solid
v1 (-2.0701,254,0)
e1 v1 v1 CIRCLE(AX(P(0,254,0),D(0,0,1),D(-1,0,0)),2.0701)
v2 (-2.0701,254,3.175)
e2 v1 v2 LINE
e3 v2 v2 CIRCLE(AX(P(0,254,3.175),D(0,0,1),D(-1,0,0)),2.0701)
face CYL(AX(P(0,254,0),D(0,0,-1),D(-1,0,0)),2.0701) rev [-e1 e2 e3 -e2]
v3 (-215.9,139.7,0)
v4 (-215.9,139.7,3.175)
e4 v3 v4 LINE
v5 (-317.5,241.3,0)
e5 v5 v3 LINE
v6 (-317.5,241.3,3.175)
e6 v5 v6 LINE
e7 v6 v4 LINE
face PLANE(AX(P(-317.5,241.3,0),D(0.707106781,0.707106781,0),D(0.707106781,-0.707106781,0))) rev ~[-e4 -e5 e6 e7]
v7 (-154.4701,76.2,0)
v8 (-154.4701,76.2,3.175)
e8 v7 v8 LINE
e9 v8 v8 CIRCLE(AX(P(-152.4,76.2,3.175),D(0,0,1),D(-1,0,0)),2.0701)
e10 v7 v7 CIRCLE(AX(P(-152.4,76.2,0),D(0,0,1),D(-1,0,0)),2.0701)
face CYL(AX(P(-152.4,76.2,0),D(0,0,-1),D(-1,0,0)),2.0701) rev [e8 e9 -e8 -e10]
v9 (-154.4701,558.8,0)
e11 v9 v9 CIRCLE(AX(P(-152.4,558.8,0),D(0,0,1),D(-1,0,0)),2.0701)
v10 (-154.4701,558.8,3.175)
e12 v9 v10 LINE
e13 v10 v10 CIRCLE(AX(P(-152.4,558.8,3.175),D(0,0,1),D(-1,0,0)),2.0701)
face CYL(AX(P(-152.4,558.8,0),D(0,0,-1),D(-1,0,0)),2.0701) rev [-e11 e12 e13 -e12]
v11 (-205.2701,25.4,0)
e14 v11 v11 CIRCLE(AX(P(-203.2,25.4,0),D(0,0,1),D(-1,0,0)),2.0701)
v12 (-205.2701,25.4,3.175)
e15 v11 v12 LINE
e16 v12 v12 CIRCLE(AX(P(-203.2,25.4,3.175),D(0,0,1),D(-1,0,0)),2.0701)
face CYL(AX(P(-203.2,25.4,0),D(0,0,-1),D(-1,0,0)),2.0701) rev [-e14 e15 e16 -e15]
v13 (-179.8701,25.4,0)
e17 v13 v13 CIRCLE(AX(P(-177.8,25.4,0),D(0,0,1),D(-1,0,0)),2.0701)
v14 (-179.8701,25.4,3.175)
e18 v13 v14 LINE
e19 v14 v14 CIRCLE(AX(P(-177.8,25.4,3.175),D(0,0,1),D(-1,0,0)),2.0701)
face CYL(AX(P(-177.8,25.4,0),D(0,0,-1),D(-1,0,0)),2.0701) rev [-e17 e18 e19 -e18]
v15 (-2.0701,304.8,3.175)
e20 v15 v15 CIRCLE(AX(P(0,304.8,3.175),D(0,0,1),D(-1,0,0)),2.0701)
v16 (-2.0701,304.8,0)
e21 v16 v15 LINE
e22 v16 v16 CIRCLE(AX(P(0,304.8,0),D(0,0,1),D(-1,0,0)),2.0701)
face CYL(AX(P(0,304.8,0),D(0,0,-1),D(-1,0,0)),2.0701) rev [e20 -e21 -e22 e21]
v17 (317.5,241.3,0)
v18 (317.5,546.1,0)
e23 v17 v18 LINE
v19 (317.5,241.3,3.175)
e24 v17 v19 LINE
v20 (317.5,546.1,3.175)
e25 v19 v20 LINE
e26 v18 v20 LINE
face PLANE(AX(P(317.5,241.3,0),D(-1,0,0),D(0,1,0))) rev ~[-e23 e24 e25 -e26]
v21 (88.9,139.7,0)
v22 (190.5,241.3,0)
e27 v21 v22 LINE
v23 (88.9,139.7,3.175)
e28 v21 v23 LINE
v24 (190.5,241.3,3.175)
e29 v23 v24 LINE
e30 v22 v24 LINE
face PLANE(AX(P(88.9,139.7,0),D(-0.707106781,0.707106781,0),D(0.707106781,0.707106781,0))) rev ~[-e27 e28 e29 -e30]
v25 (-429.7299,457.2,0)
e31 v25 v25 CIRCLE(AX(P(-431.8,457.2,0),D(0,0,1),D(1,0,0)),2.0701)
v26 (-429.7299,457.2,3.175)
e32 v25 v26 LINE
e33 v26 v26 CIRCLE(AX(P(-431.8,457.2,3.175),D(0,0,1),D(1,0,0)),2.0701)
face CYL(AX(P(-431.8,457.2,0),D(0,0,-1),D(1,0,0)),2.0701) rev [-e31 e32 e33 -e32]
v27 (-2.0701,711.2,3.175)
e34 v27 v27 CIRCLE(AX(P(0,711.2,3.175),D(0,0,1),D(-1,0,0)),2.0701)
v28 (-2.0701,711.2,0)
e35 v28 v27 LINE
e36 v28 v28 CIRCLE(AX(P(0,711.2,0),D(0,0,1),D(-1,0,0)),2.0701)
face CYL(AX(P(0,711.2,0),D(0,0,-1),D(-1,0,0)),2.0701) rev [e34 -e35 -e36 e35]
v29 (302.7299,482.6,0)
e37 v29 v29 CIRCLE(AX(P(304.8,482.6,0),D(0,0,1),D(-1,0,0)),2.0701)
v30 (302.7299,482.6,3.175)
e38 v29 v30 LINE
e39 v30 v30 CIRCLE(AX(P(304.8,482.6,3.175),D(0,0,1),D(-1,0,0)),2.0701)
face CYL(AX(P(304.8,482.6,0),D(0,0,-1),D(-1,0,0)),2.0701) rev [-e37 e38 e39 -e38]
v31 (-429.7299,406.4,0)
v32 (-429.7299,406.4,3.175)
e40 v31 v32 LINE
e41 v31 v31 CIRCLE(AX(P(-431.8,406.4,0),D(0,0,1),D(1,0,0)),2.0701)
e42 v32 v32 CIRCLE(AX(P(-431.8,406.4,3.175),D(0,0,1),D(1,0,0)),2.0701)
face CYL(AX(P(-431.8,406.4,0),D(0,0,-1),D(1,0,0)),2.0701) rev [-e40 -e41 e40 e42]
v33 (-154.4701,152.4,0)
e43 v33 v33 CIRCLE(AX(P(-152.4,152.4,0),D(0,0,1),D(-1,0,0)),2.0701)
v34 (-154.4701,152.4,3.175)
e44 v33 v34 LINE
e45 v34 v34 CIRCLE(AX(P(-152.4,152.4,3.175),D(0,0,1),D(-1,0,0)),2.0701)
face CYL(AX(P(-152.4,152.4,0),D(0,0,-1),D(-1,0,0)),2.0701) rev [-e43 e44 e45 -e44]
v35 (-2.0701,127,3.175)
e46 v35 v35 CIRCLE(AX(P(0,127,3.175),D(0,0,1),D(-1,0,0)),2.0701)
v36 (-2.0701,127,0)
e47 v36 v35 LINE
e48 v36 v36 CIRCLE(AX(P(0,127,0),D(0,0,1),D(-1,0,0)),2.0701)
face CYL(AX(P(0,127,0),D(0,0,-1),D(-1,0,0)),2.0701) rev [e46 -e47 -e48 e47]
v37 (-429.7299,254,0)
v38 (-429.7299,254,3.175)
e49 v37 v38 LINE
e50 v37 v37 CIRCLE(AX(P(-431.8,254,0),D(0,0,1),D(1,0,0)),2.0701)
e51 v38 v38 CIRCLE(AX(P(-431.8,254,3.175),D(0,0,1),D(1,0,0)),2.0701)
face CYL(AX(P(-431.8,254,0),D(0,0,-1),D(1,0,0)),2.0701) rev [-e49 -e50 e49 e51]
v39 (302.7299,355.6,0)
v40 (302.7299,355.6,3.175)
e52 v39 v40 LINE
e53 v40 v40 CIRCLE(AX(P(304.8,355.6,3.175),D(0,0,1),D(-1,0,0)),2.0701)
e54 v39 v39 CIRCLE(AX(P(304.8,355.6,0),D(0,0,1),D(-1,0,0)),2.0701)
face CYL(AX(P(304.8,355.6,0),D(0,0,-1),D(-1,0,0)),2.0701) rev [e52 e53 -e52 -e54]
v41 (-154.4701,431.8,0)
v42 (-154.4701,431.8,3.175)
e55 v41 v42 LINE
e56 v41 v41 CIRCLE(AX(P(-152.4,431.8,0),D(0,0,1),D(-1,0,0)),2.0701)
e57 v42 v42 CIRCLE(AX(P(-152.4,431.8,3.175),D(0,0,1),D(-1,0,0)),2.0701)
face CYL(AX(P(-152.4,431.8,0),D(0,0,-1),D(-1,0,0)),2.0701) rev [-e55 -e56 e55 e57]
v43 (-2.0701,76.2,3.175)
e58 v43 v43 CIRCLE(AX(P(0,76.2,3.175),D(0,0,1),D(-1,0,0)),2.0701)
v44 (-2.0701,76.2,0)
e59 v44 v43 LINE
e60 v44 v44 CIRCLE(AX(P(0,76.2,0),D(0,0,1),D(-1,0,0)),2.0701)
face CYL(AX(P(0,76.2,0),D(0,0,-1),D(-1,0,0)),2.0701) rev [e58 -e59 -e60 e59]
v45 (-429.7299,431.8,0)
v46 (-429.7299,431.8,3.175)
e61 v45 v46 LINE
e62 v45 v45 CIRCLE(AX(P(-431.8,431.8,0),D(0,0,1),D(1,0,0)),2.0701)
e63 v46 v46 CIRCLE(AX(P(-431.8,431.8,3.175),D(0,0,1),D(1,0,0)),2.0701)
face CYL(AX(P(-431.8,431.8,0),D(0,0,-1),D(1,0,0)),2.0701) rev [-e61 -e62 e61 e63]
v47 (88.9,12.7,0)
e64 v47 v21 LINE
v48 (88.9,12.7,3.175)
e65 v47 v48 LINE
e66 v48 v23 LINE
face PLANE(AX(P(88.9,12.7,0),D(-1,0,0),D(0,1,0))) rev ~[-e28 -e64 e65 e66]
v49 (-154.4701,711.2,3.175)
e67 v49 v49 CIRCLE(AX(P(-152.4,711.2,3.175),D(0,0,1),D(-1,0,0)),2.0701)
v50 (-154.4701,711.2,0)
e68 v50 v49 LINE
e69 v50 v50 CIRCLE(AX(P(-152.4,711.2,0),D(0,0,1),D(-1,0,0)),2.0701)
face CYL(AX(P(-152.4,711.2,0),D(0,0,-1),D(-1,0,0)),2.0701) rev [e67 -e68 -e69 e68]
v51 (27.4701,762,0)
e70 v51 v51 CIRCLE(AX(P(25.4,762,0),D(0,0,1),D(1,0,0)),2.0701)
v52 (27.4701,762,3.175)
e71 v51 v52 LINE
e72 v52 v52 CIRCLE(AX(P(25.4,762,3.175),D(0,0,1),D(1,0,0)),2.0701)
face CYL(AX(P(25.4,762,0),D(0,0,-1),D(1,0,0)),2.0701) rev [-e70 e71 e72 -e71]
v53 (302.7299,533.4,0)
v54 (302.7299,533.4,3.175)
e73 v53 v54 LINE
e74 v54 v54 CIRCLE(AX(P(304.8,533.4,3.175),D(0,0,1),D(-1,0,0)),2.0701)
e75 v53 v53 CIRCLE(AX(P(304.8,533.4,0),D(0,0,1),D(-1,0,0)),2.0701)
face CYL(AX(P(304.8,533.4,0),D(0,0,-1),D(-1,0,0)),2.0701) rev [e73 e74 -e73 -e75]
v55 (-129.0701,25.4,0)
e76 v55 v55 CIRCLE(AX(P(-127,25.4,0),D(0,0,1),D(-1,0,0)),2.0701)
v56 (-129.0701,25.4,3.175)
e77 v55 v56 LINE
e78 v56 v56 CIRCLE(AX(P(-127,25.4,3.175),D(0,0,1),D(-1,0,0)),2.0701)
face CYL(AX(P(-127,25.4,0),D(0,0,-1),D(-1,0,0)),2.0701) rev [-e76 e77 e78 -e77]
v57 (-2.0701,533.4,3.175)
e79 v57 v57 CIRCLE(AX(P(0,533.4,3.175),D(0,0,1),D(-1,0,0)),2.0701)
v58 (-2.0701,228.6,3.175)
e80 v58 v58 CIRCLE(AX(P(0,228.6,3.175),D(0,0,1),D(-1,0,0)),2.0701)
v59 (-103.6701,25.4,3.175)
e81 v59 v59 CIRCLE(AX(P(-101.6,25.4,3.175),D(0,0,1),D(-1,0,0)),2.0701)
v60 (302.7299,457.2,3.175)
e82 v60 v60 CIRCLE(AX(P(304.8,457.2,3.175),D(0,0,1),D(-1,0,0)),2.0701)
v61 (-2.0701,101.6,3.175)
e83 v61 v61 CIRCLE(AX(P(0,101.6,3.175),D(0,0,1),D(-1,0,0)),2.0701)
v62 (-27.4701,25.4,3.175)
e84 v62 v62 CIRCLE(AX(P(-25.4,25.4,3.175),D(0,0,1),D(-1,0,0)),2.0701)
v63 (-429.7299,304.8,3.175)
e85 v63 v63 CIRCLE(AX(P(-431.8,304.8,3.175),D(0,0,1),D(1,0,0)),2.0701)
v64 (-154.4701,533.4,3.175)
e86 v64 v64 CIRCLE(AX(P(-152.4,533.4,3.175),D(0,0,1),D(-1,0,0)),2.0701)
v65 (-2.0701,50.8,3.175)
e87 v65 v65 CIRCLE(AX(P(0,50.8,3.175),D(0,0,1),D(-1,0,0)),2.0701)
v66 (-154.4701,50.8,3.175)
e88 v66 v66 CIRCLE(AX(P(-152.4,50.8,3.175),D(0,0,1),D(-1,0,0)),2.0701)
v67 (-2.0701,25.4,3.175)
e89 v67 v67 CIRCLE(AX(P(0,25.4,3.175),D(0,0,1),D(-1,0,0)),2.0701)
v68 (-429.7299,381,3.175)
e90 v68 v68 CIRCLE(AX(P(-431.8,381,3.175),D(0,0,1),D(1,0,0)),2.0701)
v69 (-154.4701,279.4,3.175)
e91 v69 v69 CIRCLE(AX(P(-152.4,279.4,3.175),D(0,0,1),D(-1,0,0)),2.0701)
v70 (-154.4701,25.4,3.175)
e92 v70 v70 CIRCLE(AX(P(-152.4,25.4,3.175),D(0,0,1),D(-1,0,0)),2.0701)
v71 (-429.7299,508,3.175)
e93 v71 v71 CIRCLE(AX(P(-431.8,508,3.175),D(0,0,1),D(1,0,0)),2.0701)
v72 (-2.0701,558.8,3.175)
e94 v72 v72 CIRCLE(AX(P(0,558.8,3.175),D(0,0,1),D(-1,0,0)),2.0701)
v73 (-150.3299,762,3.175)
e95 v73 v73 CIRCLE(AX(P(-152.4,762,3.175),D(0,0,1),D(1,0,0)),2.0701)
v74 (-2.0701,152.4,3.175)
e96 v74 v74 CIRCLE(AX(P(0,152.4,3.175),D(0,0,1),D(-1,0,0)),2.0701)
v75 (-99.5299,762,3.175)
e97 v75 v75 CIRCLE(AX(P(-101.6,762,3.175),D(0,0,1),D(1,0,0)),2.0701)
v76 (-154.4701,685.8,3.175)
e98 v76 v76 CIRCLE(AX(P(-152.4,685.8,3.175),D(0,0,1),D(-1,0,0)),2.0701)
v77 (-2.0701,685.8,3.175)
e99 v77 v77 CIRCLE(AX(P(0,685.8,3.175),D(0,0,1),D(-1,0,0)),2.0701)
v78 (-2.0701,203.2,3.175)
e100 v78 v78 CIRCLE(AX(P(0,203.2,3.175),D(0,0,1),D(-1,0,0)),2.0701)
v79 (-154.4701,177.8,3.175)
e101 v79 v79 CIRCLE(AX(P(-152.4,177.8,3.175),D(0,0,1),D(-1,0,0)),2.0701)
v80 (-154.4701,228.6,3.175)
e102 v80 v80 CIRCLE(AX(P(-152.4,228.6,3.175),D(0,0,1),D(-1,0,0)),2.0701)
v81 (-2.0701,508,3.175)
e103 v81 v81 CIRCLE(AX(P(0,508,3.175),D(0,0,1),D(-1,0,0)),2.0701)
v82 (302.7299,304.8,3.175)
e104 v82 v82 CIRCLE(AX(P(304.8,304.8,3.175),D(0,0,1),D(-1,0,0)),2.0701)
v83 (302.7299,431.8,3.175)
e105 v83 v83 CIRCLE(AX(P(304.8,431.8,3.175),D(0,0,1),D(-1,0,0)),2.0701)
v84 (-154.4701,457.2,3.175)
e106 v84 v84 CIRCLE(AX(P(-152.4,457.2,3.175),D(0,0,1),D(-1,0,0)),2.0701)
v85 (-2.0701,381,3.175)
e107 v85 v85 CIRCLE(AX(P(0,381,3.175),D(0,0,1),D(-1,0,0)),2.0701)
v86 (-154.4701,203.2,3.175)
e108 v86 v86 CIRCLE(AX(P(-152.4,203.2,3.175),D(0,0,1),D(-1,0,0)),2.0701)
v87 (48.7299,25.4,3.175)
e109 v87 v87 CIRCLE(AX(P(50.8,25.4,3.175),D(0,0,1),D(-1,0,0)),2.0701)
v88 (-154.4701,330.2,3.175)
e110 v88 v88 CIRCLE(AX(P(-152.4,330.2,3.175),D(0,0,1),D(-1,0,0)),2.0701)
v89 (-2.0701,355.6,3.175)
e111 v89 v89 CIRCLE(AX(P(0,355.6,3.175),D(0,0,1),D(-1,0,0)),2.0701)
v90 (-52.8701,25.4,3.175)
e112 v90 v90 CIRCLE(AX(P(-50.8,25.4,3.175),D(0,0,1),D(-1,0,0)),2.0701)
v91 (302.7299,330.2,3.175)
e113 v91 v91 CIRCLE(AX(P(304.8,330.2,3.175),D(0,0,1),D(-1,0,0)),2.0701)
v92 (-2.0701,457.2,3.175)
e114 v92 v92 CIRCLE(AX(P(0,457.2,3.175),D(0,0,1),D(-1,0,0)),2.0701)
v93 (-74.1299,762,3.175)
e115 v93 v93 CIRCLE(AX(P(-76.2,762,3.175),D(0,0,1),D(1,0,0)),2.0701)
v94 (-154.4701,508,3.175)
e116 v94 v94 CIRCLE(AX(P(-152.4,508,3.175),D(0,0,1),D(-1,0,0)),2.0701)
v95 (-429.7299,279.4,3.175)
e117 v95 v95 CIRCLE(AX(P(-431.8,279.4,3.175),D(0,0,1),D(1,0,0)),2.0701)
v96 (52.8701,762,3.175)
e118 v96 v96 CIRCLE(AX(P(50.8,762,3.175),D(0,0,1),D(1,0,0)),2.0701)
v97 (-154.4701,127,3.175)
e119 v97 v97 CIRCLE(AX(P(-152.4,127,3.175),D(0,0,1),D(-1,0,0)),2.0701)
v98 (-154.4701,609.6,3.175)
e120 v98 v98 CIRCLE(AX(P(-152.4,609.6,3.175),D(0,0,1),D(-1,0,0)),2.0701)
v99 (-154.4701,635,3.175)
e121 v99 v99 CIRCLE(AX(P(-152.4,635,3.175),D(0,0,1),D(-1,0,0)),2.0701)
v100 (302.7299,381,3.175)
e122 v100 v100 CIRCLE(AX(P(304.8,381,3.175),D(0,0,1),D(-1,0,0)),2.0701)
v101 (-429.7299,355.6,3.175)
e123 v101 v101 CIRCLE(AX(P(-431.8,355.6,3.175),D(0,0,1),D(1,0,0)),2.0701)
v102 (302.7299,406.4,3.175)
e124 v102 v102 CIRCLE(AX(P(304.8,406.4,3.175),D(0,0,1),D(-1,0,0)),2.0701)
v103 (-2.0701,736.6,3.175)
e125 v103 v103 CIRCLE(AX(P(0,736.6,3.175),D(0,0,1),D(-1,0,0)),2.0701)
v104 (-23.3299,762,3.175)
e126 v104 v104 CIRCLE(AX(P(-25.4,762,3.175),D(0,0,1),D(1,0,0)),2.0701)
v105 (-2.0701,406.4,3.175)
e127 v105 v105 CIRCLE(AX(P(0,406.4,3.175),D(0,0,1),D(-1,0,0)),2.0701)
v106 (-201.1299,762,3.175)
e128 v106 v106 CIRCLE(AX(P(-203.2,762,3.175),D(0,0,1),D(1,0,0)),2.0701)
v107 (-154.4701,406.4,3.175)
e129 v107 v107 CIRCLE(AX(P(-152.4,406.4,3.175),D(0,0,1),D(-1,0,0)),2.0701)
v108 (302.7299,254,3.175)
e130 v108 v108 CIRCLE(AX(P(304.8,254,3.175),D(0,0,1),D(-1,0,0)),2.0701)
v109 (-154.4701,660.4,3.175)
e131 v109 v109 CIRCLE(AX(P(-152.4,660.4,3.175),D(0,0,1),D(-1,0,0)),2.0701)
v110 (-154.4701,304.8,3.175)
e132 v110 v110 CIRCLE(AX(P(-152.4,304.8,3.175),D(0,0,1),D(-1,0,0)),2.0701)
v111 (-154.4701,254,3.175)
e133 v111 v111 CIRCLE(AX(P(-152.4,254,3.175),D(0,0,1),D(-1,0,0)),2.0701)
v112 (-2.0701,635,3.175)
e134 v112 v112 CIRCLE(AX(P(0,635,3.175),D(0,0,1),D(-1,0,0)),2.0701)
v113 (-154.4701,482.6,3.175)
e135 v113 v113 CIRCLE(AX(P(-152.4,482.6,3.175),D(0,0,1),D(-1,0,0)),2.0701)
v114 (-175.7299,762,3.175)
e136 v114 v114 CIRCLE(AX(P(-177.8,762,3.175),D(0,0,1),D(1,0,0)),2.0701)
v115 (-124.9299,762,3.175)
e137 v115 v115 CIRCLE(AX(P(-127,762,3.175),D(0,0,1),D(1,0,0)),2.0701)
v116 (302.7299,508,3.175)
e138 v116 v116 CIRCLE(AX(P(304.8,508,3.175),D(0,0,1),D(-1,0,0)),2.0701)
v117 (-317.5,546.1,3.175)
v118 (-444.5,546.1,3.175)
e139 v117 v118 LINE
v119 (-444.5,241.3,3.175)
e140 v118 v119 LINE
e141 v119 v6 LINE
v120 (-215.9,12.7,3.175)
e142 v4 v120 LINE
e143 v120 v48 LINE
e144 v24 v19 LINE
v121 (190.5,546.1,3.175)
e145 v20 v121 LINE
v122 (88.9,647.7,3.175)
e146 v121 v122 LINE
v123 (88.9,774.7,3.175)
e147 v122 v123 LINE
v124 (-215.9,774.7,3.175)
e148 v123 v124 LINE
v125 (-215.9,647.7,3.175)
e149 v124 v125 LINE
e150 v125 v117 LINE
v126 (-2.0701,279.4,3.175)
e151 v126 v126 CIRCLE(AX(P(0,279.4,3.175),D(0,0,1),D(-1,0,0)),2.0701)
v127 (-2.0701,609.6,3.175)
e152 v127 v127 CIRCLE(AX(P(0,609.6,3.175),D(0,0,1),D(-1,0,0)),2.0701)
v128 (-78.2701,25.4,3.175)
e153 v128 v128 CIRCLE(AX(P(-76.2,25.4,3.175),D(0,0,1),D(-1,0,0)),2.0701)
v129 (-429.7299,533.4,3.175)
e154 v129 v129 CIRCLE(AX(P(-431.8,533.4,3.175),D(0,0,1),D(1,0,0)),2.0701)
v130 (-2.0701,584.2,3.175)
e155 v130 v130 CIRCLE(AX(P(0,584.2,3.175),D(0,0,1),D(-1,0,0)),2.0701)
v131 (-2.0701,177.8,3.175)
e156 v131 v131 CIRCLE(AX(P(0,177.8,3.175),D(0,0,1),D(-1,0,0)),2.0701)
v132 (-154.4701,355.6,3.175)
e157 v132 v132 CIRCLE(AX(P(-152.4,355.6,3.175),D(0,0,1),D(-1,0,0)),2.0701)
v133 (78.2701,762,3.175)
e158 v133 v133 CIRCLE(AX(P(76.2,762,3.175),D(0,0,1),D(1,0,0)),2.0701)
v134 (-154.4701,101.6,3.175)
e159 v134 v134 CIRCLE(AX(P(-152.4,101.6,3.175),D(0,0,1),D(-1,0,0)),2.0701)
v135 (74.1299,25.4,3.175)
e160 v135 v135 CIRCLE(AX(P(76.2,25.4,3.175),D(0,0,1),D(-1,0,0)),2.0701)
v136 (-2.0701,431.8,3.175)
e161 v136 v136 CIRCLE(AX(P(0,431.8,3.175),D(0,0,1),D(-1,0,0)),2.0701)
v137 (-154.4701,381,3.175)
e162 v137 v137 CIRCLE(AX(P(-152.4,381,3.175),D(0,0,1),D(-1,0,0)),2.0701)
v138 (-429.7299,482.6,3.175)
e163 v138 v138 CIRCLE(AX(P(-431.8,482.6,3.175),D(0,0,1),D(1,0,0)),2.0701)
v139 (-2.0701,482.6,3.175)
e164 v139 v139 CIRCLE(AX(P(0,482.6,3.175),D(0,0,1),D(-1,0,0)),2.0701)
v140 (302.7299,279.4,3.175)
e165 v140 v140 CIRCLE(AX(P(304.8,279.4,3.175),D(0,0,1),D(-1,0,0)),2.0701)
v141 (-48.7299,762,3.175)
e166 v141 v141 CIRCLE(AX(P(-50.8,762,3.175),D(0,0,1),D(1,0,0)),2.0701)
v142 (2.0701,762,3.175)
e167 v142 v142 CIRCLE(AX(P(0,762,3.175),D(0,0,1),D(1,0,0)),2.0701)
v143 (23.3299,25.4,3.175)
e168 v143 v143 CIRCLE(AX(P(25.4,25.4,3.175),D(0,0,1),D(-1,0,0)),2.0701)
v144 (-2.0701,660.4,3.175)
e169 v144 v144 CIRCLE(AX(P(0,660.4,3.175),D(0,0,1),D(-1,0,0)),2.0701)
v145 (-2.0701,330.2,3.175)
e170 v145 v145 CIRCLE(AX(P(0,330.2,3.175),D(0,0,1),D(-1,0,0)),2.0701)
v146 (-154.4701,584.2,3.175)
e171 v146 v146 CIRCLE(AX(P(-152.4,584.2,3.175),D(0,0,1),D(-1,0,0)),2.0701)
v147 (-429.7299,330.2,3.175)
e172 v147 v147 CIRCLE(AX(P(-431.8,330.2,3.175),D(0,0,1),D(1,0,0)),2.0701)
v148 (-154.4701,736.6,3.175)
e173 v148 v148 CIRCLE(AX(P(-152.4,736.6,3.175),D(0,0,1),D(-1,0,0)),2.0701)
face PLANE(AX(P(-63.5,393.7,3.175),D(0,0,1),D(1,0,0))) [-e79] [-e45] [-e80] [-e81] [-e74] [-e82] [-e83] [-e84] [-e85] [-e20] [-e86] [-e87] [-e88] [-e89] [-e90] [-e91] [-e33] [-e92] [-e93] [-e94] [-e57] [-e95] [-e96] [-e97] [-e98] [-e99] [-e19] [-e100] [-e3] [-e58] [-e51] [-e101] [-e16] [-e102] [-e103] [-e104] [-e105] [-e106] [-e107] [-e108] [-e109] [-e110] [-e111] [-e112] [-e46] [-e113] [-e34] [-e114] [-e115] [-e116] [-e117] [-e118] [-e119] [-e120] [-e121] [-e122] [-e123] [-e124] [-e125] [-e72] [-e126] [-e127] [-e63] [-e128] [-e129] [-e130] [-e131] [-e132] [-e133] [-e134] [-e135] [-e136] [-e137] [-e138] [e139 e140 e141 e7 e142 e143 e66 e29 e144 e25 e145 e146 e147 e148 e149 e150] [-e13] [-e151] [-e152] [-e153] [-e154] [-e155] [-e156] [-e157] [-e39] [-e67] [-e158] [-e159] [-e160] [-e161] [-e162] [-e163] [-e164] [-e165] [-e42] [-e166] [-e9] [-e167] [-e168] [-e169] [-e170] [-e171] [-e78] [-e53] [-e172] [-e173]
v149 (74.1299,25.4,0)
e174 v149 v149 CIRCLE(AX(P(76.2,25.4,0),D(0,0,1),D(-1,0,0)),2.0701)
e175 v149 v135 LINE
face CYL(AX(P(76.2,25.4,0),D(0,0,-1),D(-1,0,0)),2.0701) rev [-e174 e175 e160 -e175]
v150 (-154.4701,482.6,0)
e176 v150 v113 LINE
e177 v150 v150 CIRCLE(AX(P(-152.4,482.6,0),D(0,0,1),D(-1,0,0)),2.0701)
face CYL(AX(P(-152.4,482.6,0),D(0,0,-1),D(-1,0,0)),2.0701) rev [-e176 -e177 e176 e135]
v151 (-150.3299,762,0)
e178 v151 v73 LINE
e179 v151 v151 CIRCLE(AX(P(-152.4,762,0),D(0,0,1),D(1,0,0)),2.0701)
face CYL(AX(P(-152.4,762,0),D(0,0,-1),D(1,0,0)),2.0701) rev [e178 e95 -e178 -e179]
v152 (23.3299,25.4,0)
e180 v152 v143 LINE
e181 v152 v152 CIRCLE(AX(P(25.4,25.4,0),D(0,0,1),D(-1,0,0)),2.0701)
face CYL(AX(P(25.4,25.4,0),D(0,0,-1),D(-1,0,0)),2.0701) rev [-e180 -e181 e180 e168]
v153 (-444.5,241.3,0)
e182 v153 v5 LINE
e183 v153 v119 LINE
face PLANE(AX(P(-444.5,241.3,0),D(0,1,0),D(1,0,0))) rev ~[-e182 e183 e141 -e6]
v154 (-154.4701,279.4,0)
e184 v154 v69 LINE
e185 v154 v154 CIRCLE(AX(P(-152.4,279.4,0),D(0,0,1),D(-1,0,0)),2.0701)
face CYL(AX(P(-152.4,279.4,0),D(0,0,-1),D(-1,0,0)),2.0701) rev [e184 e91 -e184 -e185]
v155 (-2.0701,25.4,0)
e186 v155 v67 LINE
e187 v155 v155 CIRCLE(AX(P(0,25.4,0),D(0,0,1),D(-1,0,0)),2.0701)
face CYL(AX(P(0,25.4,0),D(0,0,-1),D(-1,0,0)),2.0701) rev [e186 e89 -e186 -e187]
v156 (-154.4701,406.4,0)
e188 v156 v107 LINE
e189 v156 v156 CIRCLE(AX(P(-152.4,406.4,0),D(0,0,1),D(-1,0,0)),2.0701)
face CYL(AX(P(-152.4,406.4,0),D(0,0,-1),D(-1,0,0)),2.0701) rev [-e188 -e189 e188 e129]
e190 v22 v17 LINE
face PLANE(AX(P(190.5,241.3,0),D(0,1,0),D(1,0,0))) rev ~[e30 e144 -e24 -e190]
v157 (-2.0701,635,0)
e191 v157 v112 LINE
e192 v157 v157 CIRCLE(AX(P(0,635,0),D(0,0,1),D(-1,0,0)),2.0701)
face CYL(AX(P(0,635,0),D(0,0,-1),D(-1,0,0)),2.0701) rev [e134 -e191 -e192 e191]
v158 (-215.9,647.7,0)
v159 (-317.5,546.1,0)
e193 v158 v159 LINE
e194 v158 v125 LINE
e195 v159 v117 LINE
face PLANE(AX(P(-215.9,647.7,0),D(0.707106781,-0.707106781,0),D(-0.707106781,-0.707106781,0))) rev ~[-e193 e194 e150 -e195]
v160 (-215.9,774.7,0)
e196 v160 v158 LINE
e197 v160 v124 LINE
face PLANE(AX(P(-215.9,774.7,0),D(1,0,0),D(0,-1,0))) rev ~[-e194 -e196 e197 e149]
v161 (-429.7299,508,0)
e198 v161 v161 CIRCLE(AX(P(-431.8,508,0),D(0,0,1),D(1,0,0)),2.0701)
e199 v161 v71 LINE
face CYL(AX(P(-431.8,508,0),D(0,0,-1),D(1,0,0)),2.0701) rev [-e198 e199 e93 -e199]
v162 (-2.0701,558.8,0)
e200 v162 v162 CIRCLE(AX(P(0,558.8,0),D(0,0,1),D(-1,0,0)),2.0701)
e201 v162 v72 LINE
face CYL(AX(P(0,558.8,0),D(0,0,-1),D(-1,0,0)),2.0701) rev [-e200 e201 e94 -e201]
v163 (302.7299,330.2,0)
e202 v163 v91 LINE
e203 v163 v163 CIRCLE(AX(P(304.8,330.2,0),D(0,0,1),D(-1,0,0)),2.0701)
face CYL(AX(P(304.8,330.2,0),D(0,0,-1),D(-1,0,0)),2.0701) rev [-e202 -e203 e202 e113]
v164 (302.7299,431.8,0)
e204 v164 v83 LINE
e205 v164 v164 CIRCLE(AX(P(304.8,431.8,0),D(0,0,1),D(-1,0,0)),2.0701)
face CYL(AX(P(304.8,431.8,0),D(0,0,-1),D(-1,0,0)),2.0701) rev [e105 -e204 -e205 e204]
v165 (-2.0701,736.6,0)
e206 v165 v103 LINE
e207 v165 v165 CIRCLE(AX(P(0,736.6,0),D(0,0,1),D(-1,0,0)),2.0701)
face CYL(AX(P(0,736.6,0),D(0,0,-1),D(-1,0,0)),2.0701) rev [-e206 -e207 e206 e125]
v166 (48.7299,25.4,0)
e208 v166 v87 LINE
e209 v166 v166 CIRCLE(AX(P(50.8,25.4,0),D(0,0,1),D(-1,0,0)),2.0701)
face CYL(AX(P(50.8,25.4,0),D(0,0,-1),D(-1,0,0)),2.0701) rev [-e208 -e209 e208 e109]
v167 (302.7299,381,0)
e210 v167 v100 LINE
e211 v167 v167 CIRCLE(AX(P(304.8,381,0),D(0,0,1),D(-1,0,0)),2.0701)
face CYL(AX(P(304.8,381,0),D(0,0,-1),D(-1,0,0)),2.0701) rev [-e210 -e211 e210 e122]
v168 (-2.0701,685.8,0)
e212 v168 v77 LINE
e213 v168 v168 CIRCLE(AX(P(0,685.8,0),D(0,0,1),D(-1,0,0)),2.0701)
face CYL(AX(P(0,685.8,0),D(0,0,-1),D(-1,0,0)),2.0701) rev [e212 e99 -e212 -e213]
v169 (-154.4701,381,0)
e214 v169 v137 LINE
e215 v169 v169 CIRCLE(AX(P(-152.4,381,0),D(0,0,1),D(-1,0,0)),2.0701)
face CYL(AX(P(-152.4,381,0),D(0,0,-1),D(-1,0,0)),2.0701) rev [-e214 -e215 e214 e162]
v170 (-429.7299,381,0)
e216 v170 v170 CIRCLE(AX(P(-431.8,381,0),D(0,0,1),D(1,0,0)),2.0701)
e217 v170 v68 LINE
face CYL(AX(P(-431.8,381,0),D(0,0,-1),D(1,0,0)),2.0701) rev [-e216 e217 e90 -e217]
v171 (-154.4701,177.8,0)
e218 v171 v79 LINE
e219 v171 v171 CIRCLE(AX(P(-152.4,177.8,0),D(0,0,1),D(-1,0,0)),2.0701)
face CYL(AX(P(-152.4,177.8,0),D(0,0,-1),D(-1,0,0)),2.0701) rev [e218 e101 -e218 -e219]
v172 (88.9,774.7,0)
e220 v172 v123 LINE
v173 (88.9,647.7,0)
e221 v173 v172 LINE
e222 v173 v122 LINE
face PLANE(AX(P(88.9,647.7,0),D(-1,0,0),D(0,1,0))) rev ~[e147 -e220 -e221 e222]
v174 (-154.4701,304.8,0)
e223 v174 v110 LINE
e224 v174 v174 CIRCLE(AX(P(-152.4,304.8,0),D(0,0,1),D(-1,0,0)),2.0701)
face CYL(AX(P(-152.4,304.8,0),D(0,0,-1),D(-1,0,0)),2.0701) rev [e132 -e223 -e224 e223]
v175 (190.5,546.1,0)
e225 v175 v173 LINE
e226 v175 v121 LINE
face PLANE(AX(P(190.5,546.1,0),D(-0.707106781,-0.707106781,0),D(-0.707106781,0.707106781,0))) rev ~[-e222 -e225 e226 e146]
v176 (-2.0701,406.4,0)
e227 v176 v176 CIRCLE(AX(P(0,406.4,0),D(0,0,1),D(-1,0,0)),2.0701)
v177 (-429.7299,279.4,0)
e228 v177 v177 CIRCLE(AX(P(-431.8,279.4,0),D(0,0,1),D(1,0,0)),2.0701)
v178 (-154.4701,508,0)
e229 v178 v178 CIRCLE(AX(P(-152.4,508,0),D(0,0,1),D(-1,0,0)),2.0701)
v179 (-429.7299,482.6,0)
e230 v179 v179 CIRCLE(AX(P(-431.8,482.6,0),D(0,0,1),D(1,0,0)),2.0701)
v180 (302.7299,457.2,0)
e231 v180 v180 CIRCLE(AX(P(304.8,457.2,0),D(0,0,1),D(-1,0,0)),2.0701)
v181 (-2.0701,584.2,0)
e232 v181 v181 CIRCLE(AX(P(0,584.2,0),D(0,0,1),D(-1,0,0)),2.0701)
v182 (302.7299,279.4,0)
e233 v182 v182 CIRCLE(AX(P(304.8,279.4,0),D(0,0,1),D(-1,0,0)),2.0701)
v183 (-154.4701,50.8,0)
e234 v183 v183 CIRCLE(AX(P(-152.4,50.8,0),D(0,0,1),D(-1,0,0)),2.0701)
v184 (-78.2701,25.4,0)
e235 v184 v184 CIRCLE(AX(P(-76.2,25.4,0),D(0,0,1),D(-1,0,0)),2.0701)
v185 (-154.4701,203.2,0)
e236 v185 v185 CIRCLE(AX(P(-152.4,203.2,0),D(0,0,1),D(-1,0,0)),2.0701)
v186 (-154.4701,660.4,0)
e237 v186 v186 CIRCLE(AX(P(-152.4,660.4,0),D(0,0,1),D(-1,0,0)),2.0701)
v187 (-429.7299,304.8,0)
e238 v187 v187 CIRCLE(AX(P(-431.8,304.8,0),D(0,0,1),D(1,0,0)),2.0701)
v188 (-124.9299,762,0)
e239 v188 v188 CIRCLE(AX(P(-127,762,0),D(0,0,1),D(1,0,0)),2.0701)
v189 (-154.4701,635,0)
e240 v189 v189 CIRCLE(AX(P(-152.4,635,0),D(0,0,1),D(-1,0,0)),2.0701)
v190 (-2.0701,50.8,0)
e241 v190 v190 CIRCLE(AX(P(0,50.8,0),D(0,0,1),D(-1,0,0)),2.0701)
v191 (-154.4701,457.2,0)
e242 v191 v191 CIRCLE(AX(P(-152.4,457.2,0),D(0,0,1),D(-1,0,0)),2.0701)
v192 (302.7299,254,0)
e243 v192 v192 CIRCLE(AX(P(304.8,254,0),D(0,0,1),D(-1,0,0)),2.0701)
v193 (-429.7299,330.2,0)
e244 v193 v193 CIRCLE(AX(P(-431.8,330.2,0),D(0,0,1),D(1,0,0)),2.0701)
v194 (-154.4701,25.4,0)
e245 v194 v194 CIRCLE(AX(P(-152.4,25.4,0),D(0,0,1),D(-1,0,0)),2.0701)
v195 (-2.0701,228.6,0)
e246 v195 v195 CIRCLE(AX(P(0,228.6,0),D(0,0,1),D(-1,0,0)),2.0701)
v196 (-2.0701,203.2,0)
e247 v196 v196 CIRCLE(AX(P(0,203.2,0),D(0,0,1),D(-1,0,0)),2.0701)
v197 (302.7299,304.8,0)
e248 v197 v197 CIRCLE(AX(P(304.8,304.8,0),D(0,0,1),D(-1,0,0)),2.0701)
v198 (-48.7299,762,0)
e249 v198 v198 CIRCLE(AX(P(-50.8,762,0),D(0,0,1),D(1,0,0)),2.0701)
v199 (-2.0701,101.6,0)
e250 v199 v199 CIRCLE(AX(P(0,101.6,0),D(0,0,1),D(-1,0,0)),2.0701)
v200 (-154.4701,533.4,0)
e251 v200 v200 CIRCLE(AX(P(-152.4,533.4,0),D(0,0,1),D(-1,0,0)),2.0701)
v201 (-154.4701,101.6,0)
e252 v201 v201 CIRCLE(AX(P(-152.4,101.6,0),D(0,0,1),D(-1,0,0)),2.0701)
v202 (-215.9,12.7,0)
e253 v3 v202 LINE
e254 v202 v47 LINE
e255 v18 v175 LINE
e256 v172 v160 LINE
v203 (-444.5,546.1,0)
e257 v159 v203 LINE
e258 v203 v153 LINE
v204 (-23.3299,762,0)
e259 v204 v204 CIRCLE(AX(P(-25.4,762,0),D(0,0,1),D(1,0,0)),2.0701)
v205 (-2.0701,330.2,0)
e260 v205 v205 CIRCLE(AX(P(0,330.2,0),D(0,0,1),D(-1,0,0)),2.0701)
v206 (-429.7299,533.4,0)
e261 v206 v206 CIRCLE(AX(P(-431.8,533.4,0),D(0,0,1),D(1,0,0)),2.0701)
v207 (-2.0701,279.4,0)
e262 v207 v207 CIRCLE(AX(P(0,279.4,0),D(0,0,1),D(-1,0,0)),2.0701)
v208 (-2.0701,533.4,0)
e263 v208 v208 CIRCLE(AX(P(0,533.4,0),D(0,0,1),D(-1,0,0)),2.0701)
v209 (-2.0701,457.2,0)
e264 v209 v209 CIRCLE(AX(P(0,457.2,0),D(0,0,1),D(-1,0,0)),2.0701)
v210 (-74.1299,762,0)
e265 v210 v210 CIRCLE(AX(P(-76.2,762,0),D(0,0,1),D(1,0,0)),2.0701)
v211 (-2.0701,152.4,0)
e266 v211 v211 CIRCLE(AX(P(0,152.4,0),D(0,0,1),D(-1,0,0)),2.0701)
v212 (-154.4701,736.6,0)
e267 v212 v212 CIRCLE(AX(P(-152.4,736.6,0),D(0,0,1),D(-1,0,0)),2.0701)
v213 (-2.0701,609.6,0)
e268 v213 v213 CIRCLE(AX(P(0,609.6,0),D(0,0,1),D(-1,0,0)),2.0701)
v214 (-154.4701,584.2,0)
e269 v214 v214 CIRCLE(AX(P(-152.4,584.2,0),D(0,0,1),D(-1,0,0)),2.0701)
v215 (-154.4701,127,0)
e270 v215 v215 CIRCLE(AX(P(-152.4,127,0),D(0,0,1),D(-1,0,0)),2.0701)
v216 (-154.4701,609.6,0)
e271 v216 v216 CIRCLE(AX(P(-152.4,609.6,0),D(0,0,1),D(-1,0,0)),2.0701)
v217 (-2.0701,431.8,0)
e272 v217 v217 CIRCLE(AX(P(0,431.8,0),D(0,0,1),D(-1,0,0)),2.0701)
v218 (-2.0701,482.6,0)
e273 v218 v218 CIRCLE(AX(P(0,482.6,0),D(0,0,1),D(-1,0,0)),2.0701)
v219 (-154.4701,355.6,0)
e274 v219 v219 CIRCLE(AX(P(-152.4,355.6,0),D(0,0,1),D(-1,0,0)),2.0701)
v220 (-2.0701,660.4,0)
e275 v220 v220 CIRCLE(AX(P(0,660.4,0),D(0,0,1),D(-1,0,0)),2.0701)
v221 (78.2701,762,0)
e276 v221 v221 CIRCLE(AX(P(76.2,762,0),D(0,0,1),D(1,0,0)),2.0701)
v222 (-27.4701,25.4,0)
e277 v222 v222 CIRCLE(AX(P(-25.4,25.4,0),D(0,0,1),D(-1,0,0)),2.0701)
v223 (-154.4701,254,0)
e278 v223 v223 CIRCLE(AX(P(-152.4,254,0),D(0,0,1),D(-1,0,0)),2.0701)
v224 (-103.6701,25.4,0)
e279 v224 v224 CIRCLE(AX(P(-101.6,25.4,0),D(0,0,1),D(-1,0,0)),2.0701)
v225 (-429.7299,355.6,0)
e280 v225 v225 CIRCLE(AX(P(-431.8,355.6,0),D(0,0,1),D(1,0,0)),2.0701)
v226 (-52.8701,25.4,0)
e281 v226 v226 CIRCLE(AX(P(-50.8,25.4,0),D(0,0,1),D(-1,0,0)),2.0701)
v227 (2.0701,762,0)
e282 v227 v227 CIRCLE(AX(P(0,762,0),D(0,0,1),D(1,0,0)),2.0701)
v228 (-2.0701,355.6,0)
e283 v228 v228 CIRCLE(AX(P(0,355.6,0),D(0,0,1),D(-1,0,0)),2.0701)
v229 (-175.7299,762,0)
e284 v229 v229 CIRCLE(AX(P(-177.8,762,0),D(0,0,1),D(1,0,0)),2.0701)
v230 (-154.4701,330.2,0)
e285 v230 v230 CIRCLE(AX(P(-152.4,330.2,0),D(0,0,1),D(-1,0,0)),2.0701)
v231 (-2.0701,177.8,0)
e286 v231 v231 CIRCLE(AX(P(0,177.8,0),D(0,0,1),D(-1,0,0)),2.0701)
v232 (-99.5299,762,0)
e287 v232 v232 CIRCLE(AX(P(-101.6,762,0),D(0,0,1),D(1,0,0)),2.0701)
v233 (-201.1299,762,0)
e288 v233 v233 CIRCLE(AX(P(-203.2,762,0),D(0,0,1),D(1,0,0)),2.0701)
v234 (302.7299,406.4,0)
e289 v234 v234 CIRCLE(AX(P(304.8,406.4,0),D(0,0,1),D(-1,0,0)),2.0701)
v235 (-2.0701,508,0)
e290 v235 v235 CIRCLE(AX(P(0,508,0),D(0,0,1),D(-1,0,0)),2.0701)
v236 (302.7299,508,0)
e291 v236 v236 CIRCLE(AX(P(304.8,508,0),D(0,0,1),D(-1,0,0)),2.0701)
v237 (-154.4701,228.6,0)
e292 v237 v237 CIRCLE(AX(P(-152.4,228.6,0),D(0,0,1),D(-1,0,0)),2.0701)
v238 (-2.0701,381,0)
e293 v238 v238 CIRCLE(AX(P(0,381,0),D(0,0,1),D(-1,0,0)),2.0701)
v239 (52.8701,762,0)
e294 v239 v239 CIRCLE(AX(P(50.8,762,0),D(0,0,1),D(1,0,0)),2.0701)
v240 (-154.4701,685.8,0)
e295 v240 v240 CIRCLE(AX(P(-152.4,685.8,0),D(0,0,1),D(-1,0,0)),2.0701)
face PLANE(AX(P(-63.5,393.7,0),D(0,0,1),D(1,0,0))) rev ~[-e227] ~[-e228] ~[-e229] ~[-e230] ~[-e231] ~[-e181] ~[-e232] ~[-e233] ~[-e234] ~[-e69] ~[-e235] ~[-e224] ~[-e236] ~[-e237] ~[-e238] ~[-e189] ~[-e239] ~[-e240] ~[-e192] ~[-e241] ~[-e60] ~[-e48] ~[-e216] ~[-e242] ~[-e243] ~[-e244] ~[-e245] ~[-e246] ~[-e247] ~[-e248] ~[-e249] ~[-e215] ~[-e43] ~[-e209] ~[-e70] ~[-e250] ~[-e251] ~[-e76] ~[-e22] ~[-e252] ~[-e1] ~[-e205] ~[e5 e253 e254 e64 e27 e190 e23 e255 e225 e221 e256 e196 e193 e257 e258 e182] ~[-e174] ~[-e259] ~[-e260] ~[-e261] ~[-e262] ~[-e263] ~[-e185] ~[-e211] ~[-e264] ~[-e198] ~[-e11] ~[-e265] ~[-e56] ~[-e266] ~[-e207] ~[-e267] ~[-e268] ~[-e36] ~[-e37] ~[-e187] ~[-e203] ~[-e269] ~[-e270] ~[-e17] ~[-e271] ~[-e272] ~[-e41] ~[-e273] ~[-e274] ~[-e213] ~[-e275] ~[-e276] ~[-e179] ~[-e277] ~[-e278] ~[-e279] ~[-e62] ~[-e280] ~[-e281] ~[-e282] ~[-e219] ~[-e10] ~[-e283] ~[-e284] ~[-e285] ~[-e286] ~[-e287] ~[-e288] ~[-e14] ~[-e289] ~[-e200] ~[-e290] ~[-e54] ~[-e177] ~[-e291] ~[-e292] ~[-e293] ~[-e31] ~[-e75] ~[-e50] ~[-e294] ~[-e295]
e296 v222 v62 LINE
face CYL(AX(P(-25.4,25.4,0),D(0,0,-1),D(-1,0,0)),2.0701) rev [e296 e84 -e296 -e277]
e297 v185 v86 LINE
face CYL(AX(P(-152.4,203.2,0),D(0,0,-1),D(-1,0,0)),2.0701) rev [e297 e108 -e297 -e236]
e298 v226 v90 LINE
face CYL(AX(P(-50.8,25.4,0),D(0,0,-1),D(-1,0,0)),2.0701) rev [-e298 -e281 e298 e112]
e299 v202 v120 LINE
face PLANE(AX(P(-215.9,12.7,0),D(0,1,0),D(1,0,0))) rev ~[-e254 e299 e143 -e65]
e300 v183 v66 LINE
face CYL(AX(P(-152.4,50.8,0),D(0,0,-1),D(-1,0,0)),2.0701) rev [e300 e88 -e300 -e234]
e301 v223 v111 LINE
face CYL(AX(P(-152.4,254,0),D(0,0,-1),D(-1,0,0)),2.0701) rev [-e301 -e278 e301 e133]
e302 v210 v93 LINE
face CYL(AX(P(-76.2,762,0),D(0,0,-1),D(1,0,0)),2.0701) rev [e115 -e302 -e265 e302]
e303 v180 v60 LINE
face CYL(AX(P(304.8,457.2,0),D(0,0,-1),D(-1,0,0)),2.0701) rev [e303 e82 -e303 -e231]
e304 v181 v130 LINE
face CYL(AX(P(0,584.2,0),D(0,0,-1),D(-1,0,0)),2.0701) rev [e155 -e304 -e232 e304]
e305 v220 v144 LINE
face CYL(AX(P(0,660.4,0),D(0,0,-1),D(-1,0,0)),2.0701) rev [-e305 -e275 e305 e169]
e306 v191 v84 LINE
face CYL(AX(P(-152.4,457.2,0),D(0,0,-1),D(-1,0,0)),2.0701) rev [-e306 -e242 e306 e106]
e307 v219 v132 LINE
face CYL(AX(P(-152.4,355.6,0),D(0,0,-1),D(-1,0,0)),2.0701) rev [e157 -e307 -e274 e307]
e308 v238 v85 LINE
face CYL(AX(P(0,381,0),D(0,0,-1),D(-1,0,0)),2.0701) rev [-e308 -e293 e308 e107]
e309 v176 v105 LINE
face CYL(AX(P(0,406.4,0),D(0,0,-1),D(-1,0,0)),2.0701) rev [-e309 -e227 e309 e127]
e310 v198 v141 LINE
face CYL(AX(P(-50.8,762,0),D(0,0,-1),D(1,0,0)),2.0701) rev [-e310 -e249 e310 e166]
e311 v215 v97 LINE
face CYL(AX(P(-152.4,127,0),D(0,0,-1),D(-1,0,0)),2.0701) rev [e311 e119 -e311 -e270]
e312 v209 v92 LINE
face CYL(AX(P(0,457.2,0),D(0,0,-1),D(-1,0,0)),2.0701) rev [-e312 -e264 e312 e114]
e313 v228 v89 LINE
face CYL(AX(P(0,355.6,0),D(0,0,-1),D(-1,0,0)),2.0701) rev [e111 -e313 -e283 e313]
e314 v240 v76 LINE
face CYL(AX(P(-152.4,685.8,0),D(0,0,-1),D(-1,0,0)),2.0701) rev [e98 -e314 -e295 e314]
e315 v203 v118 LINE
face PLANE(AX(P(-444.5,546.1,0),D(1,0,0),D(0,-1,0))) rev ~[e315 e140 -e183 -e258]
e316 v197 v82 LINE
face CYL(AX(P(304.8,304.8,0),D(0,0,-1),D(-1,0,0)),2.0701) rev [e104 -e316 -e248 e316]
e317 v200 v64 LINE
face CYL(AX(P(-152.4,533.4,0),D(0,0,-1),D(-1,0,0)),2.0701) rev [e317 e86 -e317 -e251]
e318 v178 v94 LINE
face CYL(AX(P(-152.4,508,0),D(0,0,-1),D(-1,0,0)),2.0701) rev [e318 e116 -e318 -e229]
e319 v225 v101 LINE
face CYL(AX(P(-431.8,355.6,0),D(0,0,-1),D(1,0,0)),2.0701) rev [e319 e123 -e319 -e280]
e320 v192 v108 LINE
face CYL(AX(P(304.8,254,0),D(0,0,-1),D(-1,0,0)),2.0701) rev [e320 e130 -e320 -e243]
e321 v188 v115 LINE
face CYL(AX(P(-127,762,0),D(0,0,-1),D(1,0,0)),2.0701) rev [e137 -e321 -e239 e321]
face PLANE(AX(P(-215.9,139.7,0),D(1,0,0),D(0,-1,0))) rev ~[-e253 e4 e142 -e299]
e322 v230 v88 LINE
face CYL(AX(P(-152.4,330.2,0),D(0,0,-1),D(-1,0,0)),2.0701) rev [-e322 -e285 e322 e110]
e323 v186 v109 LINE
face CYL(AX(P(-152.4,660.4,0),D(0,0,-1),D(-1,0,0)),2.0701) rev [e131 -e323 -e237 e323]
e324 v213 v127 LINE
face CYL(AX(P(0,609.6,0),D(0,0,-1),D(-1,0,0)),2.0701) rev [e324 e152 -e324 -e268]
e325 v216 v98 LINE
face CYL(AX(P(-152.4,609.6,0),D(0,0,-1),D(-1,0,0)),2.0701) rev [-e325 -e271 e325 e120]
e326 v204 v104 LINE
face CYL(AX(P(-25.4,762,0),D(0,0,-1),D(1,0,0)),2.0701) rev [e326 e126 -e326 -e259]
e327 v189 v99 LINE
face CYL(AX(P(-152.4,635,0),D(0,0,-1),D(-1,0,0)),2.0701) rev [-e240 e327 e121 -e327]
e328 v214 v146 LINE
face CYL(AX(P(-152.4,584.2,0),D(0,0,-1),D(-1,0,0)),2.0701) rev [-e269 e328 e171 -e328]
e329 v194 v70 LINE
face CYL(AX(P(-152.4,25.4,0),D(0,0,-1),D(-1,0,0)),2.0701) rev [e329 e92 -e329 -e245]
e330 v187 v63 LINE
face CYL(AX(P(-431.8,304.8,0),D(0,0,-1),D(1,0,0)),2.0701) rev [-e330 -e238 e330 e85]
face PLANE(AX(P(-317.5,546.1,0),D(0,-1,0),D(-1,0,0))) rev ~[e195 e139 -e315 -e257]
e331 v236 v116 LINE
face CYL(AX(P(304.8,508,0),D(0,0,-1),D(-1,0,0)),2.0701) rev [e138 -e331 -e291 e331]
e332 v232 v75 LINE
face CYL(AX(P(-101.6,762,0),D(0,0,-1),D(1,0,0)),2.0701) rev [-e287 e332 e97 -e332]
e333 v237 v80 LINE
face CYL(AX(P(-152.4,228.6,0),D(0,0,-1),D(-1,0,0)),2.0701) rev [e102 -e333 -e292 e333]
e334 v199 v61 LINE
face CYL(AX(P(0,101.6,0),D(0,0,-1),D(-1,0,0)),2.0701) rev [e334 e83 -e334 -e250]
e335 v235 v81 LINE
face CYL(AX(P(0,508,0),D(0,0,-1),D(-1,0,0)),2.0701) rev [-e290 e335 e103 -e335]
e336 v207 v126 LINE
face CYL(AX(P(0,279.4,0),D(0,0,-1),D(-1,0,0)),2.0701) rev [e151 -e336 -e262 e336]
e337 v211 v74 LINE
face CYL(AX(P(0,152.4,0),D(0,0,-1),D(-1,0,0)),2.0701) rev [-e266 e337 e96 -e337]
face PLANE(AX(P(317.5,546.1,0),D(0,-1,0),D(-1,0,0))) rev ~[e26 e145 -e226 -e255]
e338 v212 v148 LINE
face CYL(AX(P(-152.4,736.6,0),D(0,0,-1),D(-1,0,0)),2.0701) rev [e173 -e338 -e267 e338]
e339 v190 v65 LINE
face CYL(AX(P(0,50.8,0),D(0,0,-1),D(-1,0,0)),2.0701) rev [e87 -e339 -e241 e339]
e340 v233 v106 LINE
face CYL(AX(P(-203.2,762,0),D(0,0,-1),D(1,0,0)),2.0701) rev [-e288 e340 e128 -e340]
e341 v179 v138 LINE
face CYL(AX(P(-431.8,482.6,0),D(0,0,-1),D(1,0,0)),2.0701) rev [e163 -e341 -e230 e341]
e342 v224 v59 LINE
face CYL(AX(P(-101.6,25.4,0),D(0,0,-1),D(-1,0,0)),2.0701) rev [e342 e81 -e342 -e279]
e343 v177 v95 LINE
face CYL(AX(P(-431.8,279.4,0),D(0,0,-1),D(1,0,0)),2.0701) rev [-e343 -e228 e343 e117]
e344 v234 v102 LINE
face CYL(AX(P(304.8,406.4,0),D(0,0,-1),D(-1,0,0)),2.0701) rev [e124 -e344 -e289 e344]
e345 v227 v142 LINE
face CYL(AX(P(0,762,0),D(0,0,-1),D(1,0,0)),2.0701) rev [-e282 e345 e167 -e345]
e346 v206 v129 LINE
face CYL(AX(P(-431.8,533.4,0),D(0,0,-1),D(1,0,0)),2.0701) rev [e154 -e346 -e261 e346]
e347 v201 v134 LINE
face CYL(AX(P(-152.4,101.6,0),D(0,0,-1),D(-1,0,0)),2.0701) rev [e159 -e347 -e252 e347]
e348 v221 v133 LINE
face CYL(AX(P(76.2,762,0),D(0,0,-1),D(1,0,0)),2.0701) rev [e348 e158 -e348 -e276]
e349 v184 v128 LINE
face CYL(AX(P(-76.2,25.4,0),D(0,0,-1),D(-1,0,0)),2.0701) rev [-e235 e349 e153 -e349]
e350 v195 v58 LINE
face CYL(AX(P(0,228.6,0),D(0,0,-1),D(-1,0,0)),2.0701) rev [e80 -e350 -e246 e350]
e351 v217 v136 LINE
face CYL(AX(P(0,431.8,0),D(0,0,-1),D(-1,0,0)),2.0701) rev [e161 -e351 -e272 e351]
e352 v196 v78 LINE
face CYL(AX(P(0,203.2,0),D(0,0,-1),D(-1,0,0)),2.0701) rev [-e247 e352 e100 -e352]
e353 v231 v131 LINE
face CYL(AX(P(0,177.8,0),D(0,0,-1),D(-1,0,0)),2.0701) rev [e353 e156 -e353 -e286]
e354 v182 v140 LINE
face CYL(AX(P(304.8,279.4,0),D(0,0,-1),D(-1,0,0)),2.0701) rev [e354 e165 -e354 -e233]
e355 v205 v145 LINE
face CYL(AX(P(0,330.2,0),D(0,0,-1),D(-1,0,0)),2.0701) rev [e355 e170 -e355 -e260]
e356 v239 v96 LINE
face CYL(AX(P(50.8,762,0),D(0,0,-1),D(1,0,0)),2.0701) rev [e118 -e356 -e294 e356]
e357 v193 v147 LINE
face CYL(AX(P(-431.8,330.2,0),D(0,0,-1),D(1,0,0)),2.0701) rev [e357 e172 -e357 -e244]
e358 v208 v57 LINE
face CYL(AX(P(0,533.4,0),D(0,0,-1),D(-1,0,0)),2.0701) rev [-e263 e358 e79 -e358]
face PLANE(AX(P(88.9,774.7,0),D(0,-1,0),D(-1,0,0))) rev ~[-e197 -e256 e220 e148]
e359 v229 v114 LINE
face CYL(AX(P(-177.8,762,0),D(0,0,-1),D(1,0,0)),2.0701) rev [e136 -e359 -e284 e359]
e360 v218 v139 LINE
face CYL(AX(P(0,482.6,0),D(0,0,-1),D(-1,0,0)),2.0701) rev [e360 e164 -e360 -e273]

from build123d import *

# Parameters (mm, degrees)
SKETCH1_R           = 2.0701
BOSS_EXTRUDE1_DEPTH = 3.175


with BuildPart() as part:
    # Sketch1 → Boss-Extrude1 (new body)
    with BuildSketch(Plane.XY):
        Polygon((317.5, 546.1), (190.5, 546.1), (88.9, 647.7), (88.9, 774.7), (-215.9, 774.7), (-215.9, 647.7), (-317.5, 546.1), (-444.5, 546.1), (-444.5, 241.3), (-317.5, 241.3), (-215.9, 139.7), (-215.9, 12.7), (88.9, 12.7), (88.9, 139.7), (190.5, 241.3), (317.5, 241.3), align=None)
        with Locations((76.2, 762)):
            Circle(SKETCH1_R, mode=Mode.SUBTRACT)
        with Locations((50.8, 762)):
            Circle(SKETCH1_R, mode=Mode.SUBTRACT)
        with Locations((25.4, 762)):
            Circle(SKETCH1_R, mode=Mode.SUBTRACT)
        with Locations((0, 762)):
            Circle(SKETCH1_R, mode=Mode.SUBTRACT)
        with Locations((-25.4, 762)):
            Circle(SKETCH1_R, mode=Mode.SUBTRACT)
        with Locations((-50.8, 762)):
            Circle(SKETCH1_R, mode=Mode.SUBTRACT)
        with Locations((-76.2, 762)):
            Circle(SKETCH1_R, mode=Mode.SUBTRACT)
        with Locations((-101.6, 762)):
            Circle(SKETCH1_R, mode=Mode.SUBTRACT)
        with Locations((-127, 762)):
            Circle(SKETCH1_R, mode=Mode.SUBTRACT)
        with Locations((-152.4, 762)):
            Circle(SKETCH1_R, mode=Mode.SUBTRACT)
        with Locations((-177.8, 762)):
            Circle(SKETCH1_R, mode=Mode.SUBTRACT)
        with Locations((-203.2, 762)):
            Circle(SKETCH1_R, mode=Mode.SUBTRACT)
        with Locations(Location((76.2, 25.4, 0), (0, 0, 180))):
            Circle(SKETCH1_R, mode=Mode.SUBTRACT)
        with Locations(Location((50.8, 25.4, 0), (0, 0, 180))):
            Circle(SKETCH1_R, mode=Mode.SUBTRACT)
        with Locations(Location((-50.8, 25.4, 0), (0, 0, 180))):
            Circle(SKETCH1_R, mode=Mode.SUBTRACT)
        with Locations(Location((-25.4, 25.4, 0), (0, 0, 180))):
            Circle(SKETCH1_R, mode=Mode.SUBTRACT)
        with Locations(Location((0, 25.4, 0), (0, 0, 180))):
            Circle(SKETCH1_R, mode=Mode.SUBTRACT)
        with Locations(Location((25.4, 25.4, 0), (0, 0, 180))):
            Circle(SKETCH1_R, mode=Mode.SUBTRACT)
        with Locations(Location((-76.2, 25.4, 0), (0, 0, 180))):
            Circle(SKETCH1_R, mode=Mode.SUBTRACT)
        with Locations(Location((-101.6, 25.4, 0), (0, 0, 180))):
            Circle(SKETCH1_R, mode=Mode.SUBTRACT)
        with Locations(Location((-127, 25.4, 0), (0, 0, 180))):
            Circle(SKETCH1_R, mode=Mode.SUBTRACT)
        with Locations(Location((-152.4, 25.4, 0), (0, 0, 180))):
            Circle(SKETCH1_R, mode=Mode.SUBTRACT)
        with Locations(Location((-177.8, 25.4, 0), (0, 0, 180))):
            Circle(SKETCH1_R, mode=Mode.SUBTRACT)
        with Locations(Location((-203.2, 25.4, 0), (0, 0, 180))):
            Circle(SKETCH1_R, mode=Mode.SUBTRACT)
        with Locations(Location((-152.4, 50.8, 0), (0, 0, 180))):
            Circle(SKETCH1_R, mode=Mode.SUBTRACT)
        with Locations(Location((-152.4, 76.2, 0), (0, 0, 180))):
            Circle(SKETCH1_R, mode=Mode.SUBTRACT)
        with Locations(Location((-152.4, 101.6, 0), (0, 0, 180))):
            Circle(SKETCH1_R, mode=Mode.SUBTRACT)
        with Locations(Location((-152.4, 127, 0), (0, 0, 180))):
            Circle(SKETCH1_R, mode=Mode.SUBTRACT)
        with Locations(Location((-152.4, 152.4, 0), (0, 0, 180))):
            Circle(SKETCH1_R, mode=Mode.SUBTRACT)
        with Locations(Location((-152.4, 177.8, 0), (0, 0, 180))):
            Circle(SKETCH1_R, mode=Mode.SUBTRACT)
        with Locations(Location((-152.4, 203.2, 0), (0, 0, 180))):
            Circle(SKETCH1_R, mode=Mode.SUBTRACT)
        with Locations(Location((-152.4, 228.6, 0), (0, 0, 180))):
            Circle(SKETCH1_R, mode=Mode.SUBTRACT)
        with Locations(Location((-152.4, 254, 0), (0, 0, 180))):
            Circle(SKETCH1_R, mode=Mode.SUBTRACT)
        with Locations(Location((-152.4, 279.4, 0), (0, 0, 180))):
            Circle(SKETCH1_R, mode=Mode.SUBTRACT)
        with Locations(Location((-152.4, 304.8, 0), (0, 0, 180))):
            Circle(SKETCH1_R, mode=Mode.SUBTRACT)
        with Locations(Location((-152.4, 330.2, 0), (0, 0, 180))):
            Circle(SKETCH1_R, mode=Mode.SUBTRACT)
        with Locations(Location((-152.4, 355.6, 0), (0, 0, 180))):
            Circle(SKETCH1_R, mode=Mode.SUBTRACT)
        with Locations(Location((-152.4, 381, 0), (0, 0, 180))):
            Circle(SKETCH1_R, mode=Mode.SUBTRACT)
        with Locations(Location((-152.4, 406.4, 0), (0, 0, 180))):
            Circle(SKETCH1_R, mode=Mode.SUBTRACT)
        with Locations(Location((-152.4, 431.8, 0), (0, 0, 180))):
            Circle(SKETCH1_R, mode=Mode.SUBTRACT)
        with Locations(Location((-152.4, 457.2, 0), (0, 0, 180))):
            Circle(SKETCH1_R, mode=Mode.SUBTRACT)
        with Locations(Location((-152.4, 482.6, 0), (0, 0, 180))):
            Circle(SKETCH1_R, mode=Mode.SUBTRACT)
        with Locations(Location((-152.4, 508, 0), (0, 0, 180))):
            Circle(SKETCH1_R, mode=Mode.SUBTRACT)
        with Locations(Location((-152.4, 533.4, 0), (0, 0, 180))):
            Circle(SKETCH1_R, mode=Mode.SUBTRACT)
        with Locations(Location((-152.4, 558.8, 0), (0, 0, 180))):
            Circle(SKETCH1_R, mode=Mode.SUBTRACT)
        with Locations(Location((-152.4, 584.2, 0), (0, 0, 180))):
            Circle(SKETCH1_R, mode=Mode.SUBTRACT)
        with Locations(Location((-152.4, 609.6, 0), (0, 0, 180))):
            Circle(SKETCH1_R, mode=Mode.SUBTRACT)
        with Locations(Location((-152.4, 635, 0), (0, 0, 180))):
            Circle(SKETCH1_R, mode=Mode.SUBTRACT)
        with Locations(Location((-152.4, 660.4, 0), (0, 0, 180))):
            Circle(SKETCH1_R, mode=Mode.SUBTRACT)
        with Locations(Location((-152.4, 685.8, 0), (0, 0, 180))):
            Circle(SKETCH1_R, mode=Mode.SUBTRACT)
        with Locations(Location((-152.4, 711.2, 0), (0, 0, 180))):
            Circle(SKETCH1_R, mode=Mode.SUBTRACT)
        with Locations(Location((-152.4, 736.6, 0), (0, 0, 180))):
            Circle(SKETCH1_R, mode=Mode.SUBTRACT)
        with Locations(Location((0, 50.8, 0), (0, 0, 180))):
            Circle(SKETCH1_R, mode=Mode.SUBTRACT)
        with Locations(Location((0, 76.2, 0), (0, 0, 180))):
            Circle(SKETCH1_R, mode=Mode.SUBTRACT)
        with Locations(Location((0, 101.6, 0), (0, 0, 180))):
            Circle(SKETCH1_R, mode=Mode.SUBTRACT)
        with Locations(Location((0, 127, 0), (0, 0, 180))):
            Circle(SKETCH1_R, mode=Mode.SUBTRACT)
        with Locations(Location((0, 152.4, 0), (0, 0, 180))):
            Circle(SKETCH1_R, mode=Mode.SUBTRACT)
        with Locations(Location((0, 177.8, 0), (0, 0, 180))):
            Circle(SKETCH1_R, mode=Mode.SUBTRACT)
        with Locations(Location((0, 203.2, 0), (0, 0, 180))):
            Circle(SKETCH1_R, mode=Mode.SUBTRACT)
        with Locations(Location((0, 228.6, 0), (0, 0, 180))):
            Circle(SKETCH1_R, mode=Mode.SUBTRACT)
        with Locations(Location((0, 254, 0), (0, 0, 180))):
            Circle(SKETCH1_R, mode=Mode.SUBTRACT)
        with Locations(Location((0, 279.4, 0), (0, 0, 180))):
            Circle(SKETCH1_R, mode=Mode.SUBTRACT)
        with Locations(Location((0, 304.8, 0), (0, 0, 180))):
            Circle(SKETCH1_R, mode=Mode.SUBTRACT)
        with Locations(Location((0, 330.2, 0), (0, 0, 180))):
            Circle(SKETCH1_R, mode=Mode.SUBTRACT)
        with Locations(Location((0, 355.6, 0), (0, 0, 180))):
            Circle(SKETCH1_R, mode=Mode.SUBTRACT)
        with Locations(Location((0, 381, 0), (0, 0, 180))):
            Circle(SKETCH1_R, mode=Mode.SUBTRACT)
        with Locations(Location((0, 406.4, 0), (0, 0, 180))):
            Circle(SKETCH1_R, mode=Mode.SUBTRACT)
        with Locations(Location((0, 431.8, 0), (0, 0, 180))):
            Circle(SKETCH1_R, mode=Mode.SUBTRACT)
        with Locations(Location((0, 457.2, 0), (0, 0, 180))):
            Circle(SKETCH1_R, mode=Mode.SUBTRACT)
        with Locations(Location((0, 482.6, 0), (0, 0, 180))):
            Circle(SKETCH1_R, mode=Mode.SUBTRACT)
        with Locations(Location((0, 508, 0), (0, 0, 180))):
            Circle(SKETCH1_R, mode=Mode.SUBTRACT)
        with Locations(Location((0, 533.4, 0), (0, 0, 180))):
            Circle(SKETCH1_R, mode=Mode.SUBTRACT)
        with Locations(Location((0, 558.8, 0), (0, 0, 180))):
            Circle(SKETCH1_R, mode=Mode.SUBTRACT)
        with Locations(Location((0, 584.2, 0), (0, 0, 180))):
            Circle(SKETCH1_R, mode=Mode.SUBTRACT)
        with Locations(Location((0, 609.6, 0), (0, 0, 180))):
            Circle(SKETCH1_R, mode=Mode.SUBTRACT)
        with Locations(Location((0, 635, 0), (0, 0, 180))):
            Circle(SKETCH1_R, mode=Mode.SUBTRACT)
        with Locations(Location((0, 660.4, 0), (0, 0, 180))):
            Circle(SKETCH1_R, mode=Mode.SUBTRACT)
        with Locations(Location((0, 685.8, 0), (0, 0, 180))):
            Circle(SKETCH1_R, mode=Mode.SUBTRACT)
        with Locations(Location((0, 711.2, 0), (0, 0, 180))):
            Circle(SKETCH1_R, mode=Mode.SUBTRACT)
        with Locations(Location((0, 736.6, 0), (0, 0, 180))):
            Circle(SKETCH1_R, mode=Mode.SUBTRACT)
        with Locations((-431.8, 533.4)):
            Circle(SKETCH1_R, mode=Mode.SUBTRACT)
        with Locations((-431.8, 508)):
            Circle(SKETCH1_R, mode=Mode.SUBTRACT)
        with Locations((-431.8, 482.6)):
            Circle(SKETCH1_R, mode=Mode.SUBTRACT)
        with Locations((-431.8, 457.2)):
            Circle(SKETCH1_R, mode=Mode.SUBTRACT)
        with Locations((-431.8, 431.8)):
            Circle(SKETCH1_R, mode=Mode.SUBTRACT)
        with Locations((-431.8, 406.4)):
            Circle(SKETCH1_R, mode=Mode.SUBTRACT)
        with Locations((-431.8, 381)):
            Circle(SKETCH1_R, mode=Mode.SUBTRACT)
        with Locations((-431.8, 355.6)):
            Circle(SKETCH1_R, mode=Mode.SUBTRACT)
        with Locations((-431.8, 330.2)):
            Circle(SKETCH1_R, mode=Mode.SUBTRACT)
        with Locations((-431.8, 304.8)):
            Circle(SKETCH1_R, mode=Mode.SUBTRACT)
        with Locations((-431.8, 279.4)):
            Circle(SKETCH1_R, mode=Mode.SUBTRACT)
        with Locations((-431.8, 254)):
            Circle(SKETCH1_R, mode=Mode.SUBTRACT)
        with Locations(Location((304.8, 254, 0), (0, 0, 180))):
            Circle(SKETCH1_R, mode=Mode.SUBTRACT)
        with Locations(Location((304.8, 279.4, 0), (0, 0, 180))):
            Circle(SKETCH1_R, mode=Mode.SUBTRACT)
        with Locations(Location((304.8, 304.8, 0), (0, 0, 180))):
            Circle(SKETCH1_R, mode=Mode.SUBTRACT)
        with Locations(Location((304.8, 330.2, 0), (0, 0, 180))):
            Circle(SKETCH1_R, mode=Mode.SUBTRACT)
        with Locations(Location((304.8, 355.6, 0), (0, 0, 180))):
            Circle(SKETCH1_R, mode=Mode.SUBTRACT)
        with Locations(Location((304.8, 381, 0), (0, 0, 180))):
            Circle(SKETCH1_R, mode=Mode.SUBTRACT)
        with Locations(Location((304.8, 406.4, 0), (0, 0, 180))):
            Circle(SKETCH1_R, mode=Mode.SUBTRACT)
        with Locations(Location((304.8, 431.8, 0), (0, 0, 180))):
            Circle(SKETCH1_R, mode=Mode.SUBTRACT)
        with Locations(Location((304.8, 457.2, 0), (0, 0, 180))):
            Circle(SKETCH1_R, mode=Mode.SUBTRACT)
        with Locations(Location((304.8, 482.6, 0), (0, 0, 180))):
            Circle(SKETCH1_R, mode=Mode.SUBTRACT)
        with Locations(Location((304.8, 508, 0), (0, 0, 180))):
            Circle(SKETCH1_R, mode=Mode.SUBTRACT)
        with Locations(Location((304.8, 533.4, 0), (0, 0, 180))):
            Circle(SKETCH1_R, mode=Mode.SUBTRACT)
    extrude(amount=BOSS_EXTRUDE1_DEPTH)


solid = part.part
